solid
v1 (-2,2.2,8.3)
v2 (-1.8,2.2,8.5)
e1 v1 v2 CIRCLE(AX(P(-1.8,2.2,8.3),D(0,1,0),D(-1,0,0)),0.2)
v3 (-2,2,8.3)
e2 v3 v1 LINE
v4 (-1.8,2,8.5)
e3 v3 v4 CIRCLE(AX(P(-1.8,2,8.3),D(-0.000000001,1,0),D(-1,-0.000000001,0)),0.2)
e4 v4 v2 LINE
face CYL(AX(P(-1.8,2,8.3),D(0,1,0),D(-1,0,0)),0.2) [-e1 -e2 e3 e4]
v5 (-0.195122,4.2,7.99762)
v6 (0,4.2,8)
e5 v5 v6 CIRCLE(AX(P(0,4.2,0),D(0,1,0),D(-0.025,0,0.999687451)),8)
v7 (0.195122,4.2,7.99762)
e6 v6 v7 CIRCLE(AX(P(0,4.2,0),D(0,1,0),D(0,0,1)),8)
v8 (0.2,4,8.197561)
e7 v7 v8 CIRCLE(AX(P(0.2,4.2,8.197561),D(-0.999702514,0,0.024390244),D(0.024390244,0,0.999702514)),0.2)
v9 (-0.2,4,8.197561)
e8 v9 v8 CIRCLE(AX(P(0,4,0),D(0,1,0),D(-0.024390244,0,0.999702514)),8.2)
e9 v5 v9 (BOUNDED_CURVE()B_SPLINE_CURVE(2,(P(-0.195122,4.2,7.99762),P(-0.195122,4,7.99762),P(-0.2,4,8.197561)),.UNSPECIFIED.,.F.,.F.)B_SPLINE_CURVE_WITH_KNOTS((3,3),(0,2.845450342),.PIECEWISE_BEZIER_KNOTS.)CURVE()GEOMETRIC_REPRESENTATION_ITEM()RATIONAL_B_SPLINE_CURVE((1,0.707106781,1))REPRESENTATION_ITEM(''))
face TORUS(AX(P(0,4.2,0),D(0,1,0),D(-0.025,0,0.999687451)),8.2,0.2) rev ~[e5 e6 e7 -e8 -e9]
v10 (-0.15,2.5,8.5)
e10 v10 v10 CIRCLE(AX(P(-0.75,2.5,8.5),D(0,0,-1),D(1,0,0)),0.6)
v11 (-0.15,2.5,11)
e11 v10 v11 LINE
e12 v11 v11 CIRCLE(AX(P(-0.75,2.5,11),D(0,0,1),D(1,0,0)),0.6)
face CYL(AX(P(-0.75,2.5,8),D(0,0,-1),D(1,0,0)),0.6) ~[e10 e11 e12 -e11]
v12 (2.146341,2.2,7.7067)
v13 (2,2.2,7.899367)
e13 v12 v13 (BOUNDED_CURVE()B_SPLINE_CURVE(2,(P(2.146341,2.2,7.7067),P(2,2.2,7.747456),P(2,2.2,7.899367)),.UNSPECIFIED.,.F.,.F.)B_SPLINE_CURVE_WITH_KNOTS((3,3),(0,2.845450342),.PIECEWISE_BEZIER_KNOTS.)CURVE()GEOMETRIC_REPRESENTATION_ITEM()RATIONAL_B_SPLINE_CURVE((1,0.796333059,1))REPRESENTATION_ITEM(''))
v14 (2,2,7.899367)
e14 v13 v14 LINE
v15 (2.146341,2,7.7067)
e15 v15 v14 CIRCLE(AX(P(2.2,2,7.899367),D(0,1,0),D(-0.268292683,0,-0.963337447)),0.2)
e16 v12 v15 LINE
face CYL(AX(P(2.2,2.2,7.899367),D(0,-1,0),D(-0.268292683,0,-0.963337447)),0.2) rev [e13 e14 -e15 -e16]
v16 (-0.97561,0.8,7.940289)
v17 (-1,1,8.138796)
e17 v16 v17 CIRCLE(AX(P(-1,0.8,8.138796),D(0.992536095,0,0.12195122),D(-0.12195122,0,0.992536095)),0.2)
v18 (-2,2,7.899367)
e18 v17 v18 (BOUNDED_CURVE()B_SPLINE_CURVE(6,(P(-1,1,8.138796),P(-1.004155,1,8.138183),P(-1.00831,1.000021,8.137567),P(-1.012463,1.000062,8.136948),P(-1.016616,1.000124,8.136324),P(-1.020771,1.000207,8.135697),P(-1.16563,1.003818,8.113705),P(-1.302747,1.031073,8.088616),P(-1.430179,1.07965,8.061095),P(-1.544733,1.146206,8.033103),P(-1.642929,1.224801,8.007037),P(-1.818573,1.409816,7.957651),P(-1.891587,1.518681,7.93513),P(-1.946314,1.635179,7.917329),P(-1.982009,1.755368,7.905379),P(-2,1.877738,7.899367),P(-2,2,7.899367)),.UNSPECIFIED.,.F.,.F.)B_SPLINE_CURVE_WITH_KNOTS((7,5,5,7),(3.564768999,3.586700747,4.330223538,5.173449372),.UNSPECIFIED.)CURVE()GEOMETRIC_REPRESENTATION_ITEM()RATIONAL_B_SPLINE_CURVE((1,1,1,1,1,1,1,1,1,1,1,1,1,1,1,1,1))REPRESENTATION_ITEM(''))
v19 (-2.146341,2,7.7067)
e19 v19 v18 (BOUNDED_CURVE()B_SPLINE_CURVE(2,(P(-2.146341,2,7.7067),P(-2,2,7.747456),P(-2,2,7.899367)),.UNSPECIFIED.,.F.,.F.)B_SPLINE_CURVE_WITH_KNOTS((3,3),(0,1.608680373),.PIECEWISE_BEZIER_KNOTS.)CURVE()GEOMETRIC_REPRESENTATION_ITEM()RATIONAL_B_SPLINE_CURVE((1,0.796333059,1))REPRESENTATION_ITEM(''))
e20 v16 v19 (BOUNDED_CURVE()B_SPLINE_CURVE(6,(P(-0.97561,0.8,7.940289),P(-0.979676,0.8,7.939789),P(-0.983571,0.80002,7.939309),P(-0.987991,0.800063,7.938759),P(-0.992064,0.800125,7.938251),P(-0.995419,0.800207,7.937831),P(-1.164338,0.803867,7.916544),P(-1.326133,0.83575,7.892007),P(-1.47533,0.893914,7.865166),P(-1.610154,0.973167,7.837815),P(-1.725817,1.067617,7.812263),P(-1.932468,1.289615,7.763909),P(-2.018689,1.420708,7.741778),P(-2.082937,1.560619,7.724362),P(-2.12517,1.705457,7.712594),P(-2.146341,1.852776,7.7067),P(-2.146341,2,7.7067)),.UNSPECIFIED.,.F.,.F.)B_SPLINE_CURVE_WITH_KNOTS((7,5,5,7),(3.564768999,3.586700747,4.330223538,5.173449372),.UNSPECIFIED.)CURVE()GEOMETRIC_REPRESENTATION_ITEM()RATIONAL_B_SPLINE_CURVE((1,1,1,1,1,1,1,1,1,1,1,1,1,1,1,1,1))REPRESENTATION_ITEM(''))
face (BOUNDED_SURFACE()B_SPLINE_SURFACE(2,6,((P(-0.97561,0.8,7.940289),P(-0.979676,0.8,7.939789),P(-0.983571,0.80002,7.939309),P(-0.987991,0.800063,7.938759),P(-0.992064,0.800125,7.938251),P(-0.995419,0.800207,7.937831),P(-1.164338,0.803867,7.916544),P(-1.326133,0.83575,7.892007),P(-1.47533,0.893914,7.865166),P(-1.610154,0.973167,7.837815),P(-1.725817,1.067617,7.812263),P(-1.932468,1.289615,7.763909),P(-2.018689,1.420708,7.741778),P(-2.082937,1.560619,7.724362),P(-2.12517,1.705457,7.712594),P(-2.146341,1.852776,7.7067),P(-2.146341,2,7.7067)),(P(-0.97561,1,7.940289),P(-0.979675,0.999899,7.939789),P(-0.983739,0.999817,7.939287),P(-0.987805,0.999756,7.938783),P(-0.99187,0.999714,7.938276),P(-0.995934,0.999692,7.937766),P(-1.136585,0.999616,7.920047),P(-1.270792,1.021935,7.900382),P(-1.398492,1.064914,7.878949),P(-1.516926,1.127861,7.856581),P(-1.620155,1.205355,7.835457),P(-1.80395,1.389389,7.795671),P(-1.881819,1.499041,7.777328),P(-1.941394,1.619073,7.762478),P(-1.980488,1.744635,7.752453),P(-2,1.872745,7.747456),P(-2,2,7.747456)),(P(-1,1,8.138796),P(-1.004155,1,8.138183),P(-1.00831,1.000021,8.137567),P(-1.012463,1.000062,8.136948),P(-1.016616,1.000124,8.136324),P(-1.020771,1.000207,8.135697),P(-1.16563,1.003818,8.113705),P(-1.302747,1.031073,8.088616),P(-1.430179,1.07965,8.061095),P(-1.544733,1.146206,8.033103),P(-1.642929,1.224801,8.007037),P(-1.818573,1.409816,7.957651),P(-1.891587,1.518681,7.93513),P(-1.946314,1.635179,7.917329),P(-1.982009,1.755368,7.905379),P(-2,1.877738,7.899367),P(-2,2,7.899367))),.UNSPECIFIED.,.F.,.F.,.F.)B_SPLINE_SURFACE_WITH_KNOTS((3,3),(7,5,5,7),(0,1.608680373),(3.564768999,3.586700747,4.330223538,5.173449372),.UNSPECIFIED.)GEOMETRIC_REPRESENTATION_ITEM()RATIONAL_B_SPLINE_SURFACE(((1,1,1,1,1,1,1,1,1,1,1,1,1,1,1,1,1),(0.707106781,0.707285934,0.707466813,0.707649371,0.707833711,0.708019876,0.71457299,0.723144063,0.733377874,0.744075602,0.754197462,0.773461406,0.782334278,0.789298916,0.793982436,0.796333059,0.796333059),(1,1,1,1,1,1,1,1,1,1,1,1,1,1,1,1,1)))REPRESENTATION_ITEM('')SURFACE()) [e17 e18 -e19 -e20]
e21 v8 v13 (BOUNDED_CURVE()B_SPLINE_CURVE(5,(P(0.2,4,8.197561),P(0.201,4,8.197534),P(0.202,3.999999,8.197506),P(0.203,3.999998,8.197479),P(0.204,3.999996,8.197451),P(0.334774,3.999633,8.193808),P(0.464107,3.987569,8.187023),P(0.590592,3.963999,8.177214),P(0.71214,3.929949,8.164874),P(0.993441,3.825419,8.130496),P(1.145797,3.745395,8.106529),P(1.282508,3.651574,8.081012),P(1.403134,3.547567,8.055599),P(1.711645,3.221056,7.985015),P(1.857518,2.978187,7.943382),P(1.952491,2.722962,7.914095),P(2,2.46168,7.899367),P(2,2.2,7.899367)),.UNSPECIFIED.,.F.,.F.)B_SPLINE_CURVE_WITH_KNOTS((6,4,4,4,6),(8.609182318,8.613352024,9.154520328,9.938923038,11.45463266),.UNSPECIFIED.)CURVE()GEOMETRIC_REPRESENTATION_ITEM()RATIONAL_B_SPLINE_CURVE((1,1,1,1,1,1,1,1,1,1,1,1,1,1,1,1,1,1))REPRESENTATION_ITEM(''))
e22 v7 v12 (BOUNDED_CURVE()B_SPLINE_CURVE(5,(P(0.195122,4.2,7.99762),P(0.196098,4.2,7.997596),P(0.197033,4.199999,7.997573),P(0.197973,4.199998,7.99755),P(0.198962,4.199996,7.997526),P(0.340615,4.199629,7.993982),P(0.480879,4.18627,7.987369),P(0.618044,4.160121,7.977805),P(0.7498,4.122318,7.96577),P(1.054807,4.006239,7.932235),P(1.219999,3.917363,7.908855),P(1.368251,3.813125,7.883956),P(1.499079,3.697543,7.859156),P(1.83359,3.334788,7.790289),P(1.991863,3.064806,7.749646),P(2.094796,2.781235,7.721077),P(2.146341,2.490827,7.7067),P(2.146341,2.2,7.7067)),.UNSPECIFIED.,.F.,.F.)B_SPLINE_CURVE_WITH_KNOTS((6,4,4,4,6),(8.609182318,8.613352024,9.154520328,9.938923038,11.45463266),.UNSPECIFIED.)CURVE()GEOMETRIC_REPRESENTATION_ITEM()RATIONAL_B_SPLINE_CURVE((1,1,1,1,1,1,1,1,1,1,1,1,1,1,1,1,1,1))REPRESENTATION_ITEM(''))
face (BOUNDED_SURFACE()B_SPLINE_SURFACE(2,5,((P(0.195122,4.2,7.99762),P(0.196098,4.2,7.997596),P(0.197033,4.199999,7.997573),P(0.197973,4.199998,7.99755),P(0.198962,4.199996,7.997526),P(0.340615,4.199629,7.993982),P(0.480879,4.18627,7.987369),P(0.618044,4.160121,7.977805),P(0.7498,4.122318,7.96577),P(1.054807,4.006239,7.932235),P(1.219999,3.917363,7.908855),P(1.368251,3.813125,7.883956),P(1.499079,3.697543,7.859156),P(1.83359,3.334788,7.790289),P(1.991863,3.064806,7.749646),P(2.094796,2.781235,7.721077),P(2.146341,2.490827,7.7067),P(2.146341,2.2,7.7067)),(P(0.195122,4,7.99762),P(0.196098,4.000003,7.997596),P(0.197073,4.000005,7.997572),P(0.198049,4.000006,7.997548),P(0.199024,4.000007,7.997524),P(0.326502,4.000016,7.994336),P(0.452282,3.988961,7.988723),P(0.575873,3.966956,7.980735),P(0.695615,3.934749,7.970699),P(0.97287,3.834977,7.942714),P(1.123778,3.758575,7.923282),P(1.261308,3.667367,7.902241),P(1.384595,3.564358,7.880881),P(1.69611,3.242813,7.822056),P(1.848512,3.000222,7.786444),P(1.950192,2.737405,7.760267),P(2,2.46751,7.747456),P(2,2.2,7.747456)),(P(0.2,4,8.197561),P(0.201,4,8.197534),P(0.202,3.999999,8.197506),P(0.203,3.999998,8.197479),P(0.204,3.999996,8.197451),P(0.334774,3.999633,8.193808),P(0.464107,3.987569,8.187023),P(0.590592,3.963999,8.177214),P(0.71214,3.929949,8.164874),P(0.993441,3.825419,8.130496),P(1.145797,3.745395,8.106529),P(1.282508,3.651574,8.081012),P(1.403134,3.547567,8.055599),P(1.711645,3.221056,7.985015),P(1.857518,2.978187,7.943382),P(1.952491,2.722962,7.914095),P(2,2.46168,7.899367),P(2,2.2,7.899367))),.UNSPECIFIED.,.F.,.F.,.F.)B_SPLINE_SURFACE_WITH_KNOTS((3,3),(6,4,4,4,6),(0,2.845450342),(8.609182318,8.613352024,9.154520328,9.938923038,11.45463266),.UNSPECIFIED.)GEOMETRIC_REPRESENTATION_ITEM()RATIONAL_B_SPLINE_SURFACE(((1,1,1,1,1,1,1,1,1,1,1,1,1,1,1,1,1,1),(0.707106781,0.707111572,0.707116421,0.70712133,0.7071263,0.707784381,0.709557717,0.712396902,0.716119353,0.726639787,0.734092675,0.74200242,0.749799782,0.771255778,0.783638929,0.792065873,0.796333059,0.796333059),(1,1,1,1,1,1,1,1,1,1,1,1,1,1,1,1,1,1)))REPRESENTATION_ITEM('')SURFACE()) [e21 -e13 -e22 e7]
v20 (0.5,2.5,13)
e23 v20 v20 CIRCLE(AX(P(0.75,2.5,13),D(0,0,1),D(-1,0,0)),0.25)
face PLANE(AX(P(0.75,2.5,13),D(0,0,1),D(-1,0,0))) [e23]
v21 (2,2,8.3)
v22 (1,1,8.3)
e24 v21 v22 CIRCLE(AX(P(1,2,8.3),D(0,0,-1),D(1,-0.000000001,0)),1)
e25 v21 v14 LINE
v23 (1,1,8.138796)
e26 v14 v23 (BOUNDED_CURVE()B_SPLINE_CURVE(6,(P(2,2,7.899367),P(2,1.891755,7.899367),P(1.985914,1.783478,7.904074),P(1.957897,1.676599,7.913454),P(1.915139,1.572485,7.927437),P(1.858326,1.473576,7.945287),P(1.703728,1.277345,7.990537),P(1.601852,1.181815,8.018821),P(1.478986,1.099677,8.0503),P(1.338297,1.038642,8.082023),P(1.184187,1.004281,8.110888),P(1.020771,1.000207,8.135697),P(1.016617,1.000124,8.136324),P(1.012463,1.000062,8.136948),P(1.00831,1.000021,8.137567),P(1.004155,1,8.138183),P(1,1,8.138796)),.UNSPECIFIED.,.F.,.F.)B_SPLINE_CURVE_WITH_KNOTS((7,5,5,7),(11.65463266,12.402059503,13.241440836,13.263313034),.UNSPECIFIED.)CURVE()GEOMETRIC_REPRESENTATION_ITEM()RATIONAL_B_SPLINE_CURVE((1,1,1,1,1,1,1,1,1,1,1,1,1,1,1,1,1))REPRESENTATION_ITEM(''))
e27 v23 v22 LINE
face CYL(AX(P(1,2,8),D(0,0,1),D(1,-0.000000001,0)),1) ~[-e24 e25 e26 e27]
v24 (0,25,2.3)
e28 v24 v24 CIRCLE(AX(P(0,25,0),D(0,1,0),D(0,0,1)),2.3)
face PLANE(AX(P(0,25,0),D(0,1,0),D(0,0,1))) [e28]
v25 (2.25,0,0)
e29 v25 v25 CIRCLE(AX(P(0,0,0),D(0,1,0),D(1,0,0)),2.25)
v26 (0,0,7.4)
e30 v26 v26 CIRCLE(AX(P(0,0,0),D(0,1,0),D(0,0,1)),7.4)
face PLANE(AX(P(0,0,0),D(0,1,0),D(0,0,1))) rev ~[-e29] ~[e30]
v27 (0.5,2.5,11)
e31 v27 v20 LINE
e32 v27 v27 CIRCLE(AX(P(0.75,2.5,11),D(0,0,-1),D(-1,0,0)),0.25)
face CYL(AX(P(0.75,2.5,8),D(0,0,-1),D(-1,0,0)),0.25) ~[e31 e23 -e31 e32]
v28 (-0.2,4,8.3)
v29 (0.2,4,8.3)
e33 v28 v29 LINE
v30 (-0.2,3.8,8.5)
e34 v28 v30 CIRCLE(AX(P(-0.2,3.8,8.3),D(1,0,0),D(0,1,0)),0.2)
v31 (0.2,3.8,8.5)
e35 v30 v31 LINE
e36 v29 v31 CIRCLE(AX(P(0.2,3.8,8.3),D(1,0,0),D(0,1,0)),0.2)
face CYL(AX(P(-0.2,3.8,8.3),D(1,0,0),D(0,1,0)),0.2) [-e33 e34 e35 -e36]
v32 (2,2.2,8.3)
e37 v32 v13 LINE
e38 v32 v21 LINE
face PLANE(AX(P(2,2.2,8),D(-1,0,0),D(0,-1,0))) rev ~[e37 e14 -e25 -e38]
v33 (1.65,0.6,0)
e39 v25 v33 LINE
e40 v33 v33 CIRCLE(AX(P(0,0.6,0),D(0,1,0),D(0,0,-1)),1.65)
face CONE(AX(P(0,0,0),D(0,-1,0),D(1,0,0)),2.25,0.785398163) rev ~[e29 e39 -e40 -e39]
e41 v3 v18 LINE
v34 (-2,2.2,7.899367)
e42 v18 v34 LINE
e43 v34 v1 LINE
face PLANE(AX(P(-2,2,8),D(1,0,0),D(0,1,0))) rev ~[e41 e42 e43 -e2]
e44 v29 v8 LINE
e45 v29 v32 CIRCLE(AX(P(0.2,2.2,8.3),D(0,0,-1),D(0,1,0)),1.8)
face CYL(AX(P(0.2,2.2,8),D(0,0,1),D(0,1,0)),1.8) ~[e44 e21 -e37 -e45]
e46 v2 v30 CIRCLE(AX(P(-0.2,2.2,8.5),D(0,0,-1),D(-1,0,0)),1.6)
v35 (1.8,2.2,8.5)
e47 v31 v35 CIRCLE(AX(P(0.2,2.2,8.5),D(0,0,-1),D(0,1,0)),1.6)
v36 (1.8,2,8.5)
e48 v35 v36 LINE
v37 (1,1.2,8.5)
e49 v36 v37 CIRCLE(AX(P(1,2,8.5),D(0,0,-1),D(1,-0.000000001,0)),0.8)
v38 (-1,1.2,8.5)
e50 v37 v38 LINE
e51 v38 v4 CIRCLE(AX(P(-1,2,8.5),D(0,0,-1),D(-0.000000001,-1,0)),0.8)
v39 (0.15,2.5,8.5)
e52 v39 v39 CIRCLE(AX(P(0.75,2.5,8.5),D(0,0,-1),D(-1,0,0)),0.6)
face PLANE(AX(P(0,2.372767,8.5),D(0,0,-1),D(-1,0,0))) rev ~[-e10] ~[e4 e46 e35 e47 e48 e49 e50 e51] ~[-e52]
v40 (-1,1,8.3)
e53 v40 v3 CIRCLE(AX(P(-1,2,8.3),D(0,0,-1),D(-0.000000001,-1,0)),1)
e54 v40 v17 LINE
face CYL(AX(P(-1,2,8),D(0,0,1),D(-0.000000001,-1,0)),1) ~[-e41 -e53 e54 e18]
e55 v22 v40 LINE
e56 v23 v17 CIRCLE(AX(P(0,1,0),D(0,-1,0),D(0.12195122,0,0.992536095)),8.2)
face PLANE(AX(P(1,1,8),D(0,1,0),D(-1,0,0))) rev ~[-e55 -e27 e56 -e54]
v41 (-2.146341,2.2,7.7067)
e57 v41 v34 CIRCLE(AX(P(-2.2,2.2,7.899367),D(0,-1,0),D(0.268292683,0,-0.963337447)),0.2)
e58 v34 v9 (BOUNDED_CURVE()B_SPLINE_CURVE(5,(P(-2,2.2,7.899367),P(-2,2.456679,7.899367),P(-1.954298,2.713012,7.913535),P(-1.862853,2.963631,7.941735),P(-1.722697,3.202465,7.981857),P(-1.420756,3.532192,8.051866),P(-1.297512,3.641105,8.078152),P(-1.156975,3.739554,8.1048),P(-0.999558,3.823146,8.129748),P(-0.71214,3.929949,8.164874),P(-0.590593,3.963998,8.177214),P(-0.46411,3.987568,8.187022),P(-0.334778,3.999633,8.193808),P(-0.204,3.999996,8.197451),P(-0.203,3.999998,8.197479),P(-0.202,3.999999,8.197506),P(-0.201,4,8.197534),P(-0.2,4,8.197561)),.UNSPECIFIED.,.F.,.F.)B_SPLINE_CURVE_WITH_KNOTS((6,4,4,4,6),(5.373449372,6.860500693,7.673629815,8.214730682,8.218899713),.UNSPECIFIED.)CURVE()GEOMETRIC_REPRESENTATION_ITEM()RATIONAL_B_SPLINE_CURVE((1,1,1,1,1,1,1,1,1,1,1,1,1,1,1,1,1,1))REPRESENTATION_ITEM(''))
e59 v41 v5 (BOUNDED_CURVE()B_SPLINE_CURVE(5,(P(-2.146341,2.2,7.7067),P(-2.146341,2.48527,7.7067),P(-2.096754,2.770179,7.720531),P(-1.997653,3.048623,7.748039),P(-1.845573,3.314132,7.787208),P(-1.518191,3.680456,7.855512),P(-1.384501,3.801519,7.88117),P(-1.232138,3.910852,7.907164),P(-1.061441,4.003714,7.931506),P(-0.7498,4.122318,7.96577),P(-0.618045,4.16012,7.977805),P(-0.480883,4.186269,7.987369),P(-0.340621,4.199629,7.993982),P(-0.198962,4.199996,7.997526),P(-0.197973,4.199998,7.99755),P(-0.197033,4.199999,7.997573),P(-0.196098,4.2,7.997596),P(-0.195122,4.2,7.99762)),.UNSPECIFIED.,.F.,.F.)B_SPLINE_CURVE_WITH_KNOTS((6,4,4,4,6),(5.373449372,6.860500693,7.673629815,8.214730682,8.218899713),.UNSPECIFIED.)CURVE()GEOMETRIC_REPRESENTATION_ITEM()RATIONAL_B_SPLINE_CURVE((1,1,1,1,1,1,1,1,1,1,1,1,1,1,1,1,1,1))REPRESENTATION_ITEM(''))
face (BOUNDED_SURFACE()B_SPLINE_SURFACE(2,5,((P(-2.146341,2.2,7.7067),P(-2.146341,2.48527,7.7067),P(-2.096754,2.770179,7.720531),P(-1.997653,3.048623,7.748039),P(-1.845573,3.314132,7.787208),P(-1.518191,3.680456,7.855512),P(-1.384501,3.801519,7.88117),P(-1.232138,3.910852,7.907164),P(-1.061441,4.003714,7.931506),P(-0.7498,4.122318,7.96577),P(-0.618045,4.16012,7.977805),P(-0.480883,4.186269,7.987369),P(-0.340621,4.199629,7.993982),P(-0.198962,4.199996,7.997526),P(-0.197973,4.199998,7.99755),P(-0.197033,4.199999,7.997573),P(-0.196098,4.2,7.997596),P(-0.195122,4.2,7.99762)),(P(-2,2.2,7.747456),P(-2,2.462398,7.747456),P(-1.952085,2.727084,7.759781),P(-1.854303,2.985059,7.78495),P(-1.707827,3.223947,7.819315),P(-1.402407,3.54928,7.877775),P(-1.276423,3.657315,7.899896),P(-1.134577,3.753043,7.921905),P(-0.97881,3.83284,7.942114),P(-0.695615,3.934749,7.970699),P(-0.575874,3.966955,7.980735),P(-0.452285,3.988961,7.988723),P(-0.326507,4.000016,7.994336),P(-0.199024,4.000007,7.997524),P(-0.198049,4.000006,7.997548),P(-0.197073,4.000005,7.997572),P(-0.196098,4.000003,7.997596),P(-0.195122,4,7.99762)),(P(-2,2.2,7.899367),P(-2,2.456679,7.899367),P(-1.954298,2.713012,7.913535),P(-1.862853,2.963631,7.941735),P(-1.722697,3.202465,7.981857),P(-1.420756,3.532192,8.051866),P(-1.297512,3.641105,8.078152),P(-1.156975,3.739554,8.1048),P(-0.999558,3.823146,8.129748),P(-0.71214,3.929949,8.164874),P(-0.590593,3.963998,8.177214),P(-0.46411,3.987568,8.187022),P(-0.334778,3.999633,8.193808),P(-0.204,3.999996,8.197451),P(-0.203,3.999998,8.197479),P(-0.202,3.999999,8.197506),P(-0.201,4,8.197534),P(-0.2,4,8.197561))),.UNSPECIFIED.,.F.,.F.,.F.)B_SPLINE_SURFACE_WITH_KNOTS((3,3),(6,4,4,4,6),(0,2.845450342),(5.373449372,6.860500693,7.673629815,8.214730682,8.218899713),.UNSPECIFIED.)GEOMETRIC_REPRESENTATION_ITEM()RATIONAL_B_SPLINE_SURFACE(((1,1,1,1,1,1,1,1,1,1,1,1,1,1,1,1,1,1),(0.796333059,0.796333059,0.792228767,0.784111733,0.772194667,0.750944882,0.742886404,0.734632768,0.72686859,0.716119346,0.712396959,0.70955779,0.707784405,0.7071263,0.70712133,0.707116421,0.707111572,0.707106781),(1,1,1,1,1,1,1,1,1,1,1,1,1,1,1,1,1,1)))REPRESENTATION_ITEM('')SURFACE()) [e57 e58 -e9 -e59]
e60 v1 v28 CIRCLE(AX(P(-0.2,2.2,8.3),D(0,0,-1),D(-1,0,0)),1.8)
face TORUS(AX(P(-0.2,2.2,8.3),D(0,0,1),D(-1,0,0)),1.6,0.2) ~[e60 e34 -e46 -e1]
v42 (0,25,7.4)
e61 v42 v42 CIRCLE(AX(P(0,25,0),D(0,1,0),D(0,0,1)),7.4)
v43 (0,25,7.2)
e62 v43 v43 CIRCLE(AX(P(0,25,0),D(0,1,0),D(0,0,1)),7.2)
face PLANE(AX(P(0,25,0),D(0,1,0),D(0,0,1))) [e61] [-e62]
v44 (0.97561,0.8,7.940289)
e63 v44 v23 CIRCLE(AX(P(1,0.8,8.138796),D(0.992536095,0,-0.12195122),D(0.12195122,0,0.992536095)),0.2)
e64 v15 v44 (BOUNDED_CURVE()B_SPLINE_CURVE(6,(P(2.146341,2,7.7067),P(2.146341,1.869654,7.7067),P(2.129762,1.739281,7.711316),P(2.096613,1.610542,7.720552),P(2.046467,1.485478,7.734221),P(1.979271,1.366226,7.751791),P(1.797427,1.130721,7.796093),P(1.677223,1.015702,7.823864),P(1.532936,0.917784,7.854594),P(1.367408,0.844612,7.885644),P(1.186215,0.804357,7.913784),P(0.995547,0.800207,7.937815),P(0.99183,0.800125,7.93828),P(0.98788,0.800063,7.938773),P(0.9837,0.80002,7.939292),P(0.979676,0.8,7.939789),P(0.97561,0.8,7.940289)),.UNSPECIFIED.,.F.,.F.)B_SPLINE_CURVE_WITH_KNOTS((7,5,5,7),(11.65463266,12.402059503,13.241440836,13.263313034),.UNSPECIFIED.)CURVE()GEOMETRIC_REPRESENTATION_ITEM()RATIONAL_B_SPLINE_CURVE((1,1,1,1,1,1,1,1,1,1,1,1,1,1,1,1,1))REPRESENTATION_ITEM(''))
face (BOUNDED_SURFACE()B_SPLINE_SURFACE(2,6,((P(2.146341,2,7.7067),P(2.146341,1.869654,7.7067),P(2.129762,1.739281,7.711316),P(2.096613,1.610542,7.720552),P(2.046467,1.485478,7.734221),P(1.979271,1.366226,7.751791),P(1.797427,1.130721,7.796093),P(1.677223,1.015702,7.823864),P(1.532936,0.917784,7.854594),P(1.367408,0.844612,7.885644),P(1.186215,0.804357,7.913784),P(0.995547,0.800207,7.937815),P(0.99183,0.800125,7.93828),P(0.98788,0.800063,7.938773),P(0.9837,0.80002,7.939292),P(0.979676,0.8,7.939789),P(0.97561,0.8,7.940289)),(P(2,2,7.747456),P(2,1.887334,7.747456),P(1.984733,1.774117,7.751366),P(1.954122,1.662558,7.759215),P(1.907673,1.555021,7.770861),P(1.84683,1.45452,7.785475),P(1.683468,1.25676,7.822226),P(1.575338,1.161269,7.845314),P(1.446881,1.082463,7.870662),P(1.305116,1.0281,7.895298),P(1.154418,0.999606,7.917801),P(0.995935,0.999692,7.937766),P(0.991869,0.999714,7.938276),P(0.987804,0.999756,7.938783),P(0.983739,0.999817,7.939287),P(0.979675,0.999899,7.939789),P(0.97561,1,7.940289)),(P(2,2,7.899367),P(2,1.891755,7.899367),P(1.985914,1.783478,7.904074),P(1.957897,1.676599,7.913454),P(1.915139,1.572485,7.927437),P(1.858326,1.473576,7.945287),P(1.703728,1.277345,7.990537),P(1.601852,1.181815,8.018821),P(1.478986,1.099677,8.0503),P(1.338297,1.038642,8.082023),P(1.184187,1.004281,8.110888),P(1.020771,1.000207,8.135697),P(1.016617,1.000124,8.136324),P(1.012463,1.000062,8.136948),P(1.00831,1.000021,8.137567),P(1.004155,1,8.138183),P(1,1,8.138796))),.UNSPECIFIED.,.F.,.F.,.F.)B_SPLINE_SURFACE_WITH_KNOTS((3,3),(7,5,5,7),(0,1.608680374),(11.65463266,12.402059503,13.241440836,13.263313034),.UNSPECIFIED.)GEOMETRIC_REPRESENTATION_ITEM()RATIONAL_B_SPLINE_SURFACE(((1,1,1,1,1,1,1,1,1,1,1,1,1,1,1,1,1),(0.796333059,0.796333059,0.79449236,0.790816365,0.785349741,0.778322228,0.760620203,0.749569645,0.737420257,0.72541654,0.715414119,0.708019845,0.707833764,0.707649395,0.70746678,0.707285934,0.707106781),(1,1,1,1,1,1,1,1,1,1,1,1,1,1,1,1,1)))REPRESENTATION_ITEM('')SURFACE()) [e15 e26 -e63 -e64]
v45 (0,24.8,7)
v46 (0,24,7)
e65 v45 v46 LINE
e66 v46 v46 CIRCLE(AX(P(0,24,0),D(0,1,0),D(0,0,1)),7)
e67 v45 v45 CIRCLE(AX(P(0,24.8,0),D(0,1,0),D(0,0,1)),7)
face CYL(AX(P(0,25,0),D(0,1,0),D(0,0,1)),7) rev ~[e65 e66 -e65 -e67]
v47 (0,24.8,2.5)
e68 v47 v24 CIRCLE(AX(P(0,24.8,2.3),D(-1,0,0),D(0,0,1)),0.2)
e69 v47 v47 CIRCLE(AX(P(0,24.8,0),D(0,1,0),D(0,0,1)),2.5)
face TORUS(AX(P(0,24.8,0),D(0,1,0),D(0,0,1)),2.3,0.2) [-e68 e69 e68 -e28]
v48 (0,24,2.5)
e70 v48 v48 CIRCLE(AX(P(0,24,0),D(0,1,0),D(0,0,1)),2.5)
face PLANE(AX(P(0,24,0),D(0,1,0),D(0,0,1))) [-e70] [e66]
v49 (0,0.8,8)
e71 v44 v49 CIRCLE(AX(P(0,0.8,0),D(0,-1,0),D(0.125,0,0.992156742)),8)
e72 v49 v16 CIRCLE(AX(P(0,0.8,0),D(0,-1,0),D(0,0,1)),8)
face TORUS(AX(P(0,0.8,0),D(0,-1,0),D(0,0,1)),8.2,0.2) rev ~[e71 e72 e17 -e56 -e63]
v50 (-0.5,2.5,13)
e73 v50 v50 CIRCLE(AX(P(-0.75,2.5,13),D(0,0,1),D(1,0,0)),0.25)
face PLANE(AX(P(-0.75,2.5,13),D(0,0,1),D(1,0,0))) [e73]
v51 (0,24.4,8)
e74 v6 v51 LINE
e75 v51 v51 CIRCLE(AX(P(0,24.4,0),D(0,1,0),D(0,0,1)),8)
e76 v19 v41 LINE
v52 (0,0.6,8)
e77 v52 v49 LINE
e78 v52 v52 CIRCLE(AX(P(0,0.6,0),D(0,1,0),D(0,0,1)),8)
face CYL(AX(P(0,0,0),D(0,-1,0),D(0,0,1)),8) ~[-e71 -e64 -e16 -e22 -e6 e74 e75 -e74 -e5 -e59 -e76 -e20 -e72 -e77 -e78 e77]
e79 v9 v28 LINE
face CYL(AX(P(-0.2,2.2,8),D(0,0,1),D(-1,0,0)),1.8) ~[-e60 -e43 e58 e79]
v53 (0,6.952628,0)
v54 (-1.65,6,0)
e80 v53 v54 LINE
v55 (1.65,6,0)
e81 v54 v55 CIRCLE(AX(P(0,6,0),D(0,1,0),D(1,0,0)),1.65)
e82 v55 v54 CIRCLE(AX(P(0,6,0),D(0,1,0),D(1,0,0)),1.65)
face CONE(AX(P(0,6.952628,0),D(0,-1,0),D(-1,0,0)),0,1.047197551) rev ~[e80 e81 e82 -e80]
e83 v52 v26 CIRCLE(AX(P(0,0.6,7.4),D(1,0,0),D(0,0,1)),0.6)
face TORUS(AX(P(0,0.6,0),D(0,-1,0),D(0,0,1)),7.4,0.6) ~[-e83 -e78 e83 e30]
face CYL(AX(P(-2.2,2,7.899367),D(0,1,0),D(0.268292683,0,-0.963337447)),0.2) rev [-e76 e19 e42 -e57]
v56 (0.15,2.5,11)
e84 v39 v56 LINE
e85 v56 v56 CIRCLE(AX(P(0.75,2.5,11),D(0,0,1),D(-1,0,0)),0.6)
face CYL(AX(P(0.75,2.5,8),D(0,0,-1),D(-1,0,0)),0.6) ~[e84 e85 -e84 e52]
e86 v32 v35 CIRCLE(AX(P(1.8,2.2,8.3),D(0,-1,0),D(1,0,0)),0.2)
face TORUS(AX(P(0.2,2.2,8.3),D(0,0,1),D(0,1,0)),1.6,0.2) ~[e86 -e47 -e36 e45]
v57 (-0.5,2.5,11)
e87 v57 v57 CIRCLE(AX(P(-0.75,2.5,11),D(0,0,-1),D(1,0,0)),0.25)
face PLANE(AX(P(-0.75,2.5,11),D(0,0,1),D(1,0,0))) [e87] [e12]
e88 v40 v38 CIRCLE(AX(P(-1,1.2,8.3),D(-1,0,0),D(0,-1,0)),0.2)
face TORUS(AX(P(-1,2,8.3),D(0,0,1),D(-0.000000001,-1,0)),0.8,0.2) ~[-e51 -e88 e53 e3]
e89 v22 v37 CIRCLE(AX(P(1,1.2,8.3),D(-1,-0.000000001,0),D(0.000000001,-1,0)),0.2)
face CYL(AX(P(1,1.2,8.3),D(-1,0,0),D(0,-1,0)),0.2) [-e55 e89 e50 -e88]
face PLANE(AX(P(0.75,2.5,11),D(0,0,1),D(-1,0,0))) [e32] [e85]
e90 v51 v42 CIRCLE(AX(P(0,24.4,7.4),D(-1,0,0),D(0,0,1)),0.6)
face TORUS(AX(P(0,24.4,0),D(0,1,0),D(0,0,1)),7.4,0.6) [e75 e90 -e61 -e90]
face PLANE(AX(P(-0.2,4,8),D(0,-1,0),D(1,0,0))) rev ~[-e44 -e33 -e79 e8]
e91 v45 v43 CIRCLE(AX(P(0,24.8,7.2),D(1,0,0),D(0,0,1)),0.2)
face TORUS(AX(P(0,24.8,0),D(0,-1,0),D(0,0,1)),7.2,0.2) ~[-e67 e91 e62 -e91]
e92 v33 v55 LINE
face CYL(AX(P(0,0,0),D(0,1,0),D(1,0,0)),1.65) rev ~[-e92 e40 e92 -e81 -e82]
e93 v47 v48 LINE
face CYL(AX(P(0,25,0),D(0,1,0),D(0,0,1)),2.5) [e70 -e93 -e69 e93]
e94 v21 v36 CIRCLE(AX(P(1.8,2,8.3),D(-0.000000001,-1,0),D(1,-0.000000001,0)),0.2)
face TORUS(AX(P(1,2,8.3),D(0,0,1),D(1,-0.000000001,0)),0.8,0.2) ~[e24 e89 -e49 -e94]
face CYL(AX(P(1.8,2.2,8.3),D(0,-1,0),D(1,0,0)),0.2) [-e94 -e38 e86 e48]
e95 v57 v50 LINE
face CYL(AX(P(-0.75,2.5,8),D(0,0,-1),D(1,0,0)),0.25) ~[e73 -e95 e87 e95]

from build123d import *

# Parameters (mm, degrees)
SKETCH1_R                            = 8
BOSS_EXTRUDE1_DEPTH                  = 25
SKETCH2_R                            = 7
SKETCH2_R_2                          = 2.5
CUT_EXTRUDE1_DEPTH                   = 1
M4_TAPPED_HOLE1_D                    = 3.3
M4_TAPPED_HOLE1_DEPTH                = 6
M4_TAPPED_HOLE1_CSINK_D              = 4.5
M4_TAPPED_HOLE1_CSINK_ANGLE          = 90
M4_TAPPED_HOLE1_TIP                  = 0.952627944
BOSS_EXTRUDE2_DEPTH                  = 0.5
BOSS_EXTRUDE2_DIRECTION_2_REACH      = 32.741
BOSS_EXTRUDE2_DIRECTION_2_END_RADIUS = 8
SKETCH9_R                            = 0.6
BOSS_EXTRUDE3_DEPTH                  = 3
SKETCH10_R                           = 0.25
BOSS_EXTRUDE4_DEPTH                  = 5
FILLET1_R                            = 0.6
FILLET2_R                            = 0.2
FILLET3_R                            = 0.2
FILLET4_R                            = 0.2


with BuildPart() as part:
    # Sketch1 → Boss-Extrude1 (new body)
    with BuildSketch(Plane(origin=(0, 0, 0), x_dir=(1, 0, 0), z_dir=(0, 1, 0))):
        with Locations(Location((0, 0, 0), (0, 0, 270))):
            Circle(SKETCH1_R)
    extrude(amount=BOSS_EXTRUDE1_DEPTH)

    # Sketch2 → Cut-Extrude1 (cut)
    with BuildSketch(Plane(origin=(0, 25, 0), x_dir=(1, 0, 0), z_dir=(0, 1, 0))):
        with Locations(Location((0, 0, 0), (0, 0, 270))):
            Circle(SKETCH2_R)
        with Locations(Location((0, 0, 0), (0, 0, 270))):
            Circle(SKETCH2_R_2, mode=Mode.SUBTRACT)
    extrude(amount=-CUT_EXTRUDE1_DEPTH, mode=Mode.SUBTRACT)

    # M4 Tapped Hole1
    with Locations(Plane(origin=(0, 0, 0), x_dir=(-1, 0, 0), z_dir=(0, -1, 0))):
        with Locations((0, 0)):
            CounterSinkHole(M4_TAPPED_HOLE1_D / 2, M4_TAPPED_HOLE1_CSINK_D / 2, depth=M4_TAPPED_HOLE1_DEPTH, counter_sink_angle=M4_TAPPED_HOLE1_CSINK_ANGLE)
            with Locations((0, 0, -(M4_TAPPED_HOLE1_DEPTH + M4_TAPPED_HOLE1_TIP / 2))):  # 120° drill point
                Cone(0, M4_TAPPED_HOLE1_D / 2, M4_TAPPED_HOLE1_TIP, mode=Mode.SUBTRACT)

    # Sketch8 → Boss-Extrude2 (add)
    with BuildSketch(Plane.XY.offset(8)):
        with BuildLine():
            Line((-0.2, 4), (0.2, 4))
            ThreePointArc((0.2, 4), (1.472792206, 3.472792206), (2, 2.2))
            Line((2, 2.2), (2, 2))
            ThreePointArc((2, 2), (1.707106781, 1.292893219), (1, 1))
            Line((1, 1), (-1, 1))
            ThreePointArc((-1, 1), (-1.707106781, 1.292893219), (-2, 2))
            Line((-2, 2), (-2, 2.2))
            ThreePointArc((-2, 2.2), (-1.472792206, 3.472792206), (-0.2, 4))
        make_face()
    extrude(amount=BOSS_EXTRUDE2_DEPTH)

    # Boss-Extrude2 direction 2: up to this cylinder (the profile starts outside it)
    boss_extrude2_direction_2_end = Plane(origin=(0, 2.403845, 0), z_dir=(0, -1, 0)) * Cylinder(BOSS_EXTRUDE2_DIRECTION_2_END_RADIUS, 82.482, mode=Mode.PRIVATE)
    # Sketch8 → Boss-Extrude2 direction 2 (add, up to the surface)
    with BuildSketch(Plane.XY.offset(8), mode=Mode.PRIVATE) as boss_extrude2_direction_2_sk1:
        with BuildLine():
            Line((-0.2, 4), (0.2, 4))
            ThreePointArc((0.2, 4), (1.472792206, 3.472792206), (2, 2.2))
            Line((2, 2.2), (2, 2))
            ThreePointArc((2, 2), (1.707106781, 1.292893219), (1, 1))
            Line((1, 1), (-1, 1))
            ThreePointArc((-1, 1), (-1.707106781, 1.292893219), (-2, 2))
            Line((-2, 2), (-2, 2.2))
            ThreePointArc((-2, 2.2), (-1.472792206, 3.472792206), (-0.2, 4))
        make_face()
    boss_extrude2_direction_2_tool1 = extrude(boss_extrude2_direction_2_sk1.sketch, amount=-BOSS_EXTRUDE2_DIRECTION_2_REACH, mode=Mode.PRIVATE) - boss_extrude2_direction_2_end
    add(boss_extrude2_direction_2_tool1.solids().sort_by_distance((0, 2.403845, 8))[0])
    add(boss_extrude2_direction_2_tool1.solids().sort_by_distance((0, 2.403845, 8))[1])

    # Sketch9 → Boss-Extrude3 (add)
    with BuildSketch(Plane.XY.offset(8)):
        with Locations((-0.75, 2.5)):
            Circle(SKETCH9_R)
        with Locations(Location((0.75, 2.5, 0), (0, 0, 180))):
            Circle(SKETCH9_R)
    extrude(amount=BOSS_EXTRUDE3_DEPTH)

    # Sketch10 → Boss-Extrude4 (add)
    with BuildSketch(Plane.XY.offset(8)):
        with Locations((-0.75, 2.5)):
            Circle(SKETCH10_R)
        with Locations(Location((0.75, 2.5, 0), (0, 0, 180))):
            Circle(SKETCH10_R)
    extrude(amount=BOSS_EXTRUDE4_DEPTH)

    # Fillet1
    fillet1_edges = [part.edges().sort_by_distance(p)[0] for p in [
        (0, 0, -8),
        (0, 25, -8),
    ]]
    fillet(fillet1_edges, radius=FILLET1_R)

    # Fillet2
    fillet2_edges = [part.edges().sort_by_distance(p)[0] for p in [
        (1.705190451, 1.290982068, 7.816157978),
        (2, 2.1, 7.745966692),
        (1.472396711, 3.473187578, 7.863335674),
        (0.100007815, 4, 7.999374878),
        (-1.472396718, 3.473187586, 7.863335666),
        (-2, 2.1, 7.745966692),
        (-1.705190451, 1.290982068, 7.816157978),
        (0.5009833, 1, 7.984298074),
        (1.707106781, 1.292893219, 8.5),
        (2, 2.1, 8.5),
        (1.472792206, 3.472792206, 8.5),
        (0, 4, 8.5),
        (-1.472792206, 3.472792206, 8.5),
        (-2, 2.1, 8.5),
        (-1.707106781, 1.292893219, 8.5),
        (0, 1, 8.5),
    ]]
    fillet(fillet2_edges, radius=FILLET2_R)

    # Fillet3
    fillet3_edges = [part.edges().sort_by_distance(p)[0] for p in [
        (0, 25, -2.5),
    ]]
    fillet(fillet3_edges, radius=FILLET3_R)

    # Fillet4
    fillet4_edges = [part.edges().sort_by_distance(p)[0] for p in [
        (0, 25, -7),
    ]]
    fillet(fillet4_edges, radius=FILLET4_R)


solid = part.part
